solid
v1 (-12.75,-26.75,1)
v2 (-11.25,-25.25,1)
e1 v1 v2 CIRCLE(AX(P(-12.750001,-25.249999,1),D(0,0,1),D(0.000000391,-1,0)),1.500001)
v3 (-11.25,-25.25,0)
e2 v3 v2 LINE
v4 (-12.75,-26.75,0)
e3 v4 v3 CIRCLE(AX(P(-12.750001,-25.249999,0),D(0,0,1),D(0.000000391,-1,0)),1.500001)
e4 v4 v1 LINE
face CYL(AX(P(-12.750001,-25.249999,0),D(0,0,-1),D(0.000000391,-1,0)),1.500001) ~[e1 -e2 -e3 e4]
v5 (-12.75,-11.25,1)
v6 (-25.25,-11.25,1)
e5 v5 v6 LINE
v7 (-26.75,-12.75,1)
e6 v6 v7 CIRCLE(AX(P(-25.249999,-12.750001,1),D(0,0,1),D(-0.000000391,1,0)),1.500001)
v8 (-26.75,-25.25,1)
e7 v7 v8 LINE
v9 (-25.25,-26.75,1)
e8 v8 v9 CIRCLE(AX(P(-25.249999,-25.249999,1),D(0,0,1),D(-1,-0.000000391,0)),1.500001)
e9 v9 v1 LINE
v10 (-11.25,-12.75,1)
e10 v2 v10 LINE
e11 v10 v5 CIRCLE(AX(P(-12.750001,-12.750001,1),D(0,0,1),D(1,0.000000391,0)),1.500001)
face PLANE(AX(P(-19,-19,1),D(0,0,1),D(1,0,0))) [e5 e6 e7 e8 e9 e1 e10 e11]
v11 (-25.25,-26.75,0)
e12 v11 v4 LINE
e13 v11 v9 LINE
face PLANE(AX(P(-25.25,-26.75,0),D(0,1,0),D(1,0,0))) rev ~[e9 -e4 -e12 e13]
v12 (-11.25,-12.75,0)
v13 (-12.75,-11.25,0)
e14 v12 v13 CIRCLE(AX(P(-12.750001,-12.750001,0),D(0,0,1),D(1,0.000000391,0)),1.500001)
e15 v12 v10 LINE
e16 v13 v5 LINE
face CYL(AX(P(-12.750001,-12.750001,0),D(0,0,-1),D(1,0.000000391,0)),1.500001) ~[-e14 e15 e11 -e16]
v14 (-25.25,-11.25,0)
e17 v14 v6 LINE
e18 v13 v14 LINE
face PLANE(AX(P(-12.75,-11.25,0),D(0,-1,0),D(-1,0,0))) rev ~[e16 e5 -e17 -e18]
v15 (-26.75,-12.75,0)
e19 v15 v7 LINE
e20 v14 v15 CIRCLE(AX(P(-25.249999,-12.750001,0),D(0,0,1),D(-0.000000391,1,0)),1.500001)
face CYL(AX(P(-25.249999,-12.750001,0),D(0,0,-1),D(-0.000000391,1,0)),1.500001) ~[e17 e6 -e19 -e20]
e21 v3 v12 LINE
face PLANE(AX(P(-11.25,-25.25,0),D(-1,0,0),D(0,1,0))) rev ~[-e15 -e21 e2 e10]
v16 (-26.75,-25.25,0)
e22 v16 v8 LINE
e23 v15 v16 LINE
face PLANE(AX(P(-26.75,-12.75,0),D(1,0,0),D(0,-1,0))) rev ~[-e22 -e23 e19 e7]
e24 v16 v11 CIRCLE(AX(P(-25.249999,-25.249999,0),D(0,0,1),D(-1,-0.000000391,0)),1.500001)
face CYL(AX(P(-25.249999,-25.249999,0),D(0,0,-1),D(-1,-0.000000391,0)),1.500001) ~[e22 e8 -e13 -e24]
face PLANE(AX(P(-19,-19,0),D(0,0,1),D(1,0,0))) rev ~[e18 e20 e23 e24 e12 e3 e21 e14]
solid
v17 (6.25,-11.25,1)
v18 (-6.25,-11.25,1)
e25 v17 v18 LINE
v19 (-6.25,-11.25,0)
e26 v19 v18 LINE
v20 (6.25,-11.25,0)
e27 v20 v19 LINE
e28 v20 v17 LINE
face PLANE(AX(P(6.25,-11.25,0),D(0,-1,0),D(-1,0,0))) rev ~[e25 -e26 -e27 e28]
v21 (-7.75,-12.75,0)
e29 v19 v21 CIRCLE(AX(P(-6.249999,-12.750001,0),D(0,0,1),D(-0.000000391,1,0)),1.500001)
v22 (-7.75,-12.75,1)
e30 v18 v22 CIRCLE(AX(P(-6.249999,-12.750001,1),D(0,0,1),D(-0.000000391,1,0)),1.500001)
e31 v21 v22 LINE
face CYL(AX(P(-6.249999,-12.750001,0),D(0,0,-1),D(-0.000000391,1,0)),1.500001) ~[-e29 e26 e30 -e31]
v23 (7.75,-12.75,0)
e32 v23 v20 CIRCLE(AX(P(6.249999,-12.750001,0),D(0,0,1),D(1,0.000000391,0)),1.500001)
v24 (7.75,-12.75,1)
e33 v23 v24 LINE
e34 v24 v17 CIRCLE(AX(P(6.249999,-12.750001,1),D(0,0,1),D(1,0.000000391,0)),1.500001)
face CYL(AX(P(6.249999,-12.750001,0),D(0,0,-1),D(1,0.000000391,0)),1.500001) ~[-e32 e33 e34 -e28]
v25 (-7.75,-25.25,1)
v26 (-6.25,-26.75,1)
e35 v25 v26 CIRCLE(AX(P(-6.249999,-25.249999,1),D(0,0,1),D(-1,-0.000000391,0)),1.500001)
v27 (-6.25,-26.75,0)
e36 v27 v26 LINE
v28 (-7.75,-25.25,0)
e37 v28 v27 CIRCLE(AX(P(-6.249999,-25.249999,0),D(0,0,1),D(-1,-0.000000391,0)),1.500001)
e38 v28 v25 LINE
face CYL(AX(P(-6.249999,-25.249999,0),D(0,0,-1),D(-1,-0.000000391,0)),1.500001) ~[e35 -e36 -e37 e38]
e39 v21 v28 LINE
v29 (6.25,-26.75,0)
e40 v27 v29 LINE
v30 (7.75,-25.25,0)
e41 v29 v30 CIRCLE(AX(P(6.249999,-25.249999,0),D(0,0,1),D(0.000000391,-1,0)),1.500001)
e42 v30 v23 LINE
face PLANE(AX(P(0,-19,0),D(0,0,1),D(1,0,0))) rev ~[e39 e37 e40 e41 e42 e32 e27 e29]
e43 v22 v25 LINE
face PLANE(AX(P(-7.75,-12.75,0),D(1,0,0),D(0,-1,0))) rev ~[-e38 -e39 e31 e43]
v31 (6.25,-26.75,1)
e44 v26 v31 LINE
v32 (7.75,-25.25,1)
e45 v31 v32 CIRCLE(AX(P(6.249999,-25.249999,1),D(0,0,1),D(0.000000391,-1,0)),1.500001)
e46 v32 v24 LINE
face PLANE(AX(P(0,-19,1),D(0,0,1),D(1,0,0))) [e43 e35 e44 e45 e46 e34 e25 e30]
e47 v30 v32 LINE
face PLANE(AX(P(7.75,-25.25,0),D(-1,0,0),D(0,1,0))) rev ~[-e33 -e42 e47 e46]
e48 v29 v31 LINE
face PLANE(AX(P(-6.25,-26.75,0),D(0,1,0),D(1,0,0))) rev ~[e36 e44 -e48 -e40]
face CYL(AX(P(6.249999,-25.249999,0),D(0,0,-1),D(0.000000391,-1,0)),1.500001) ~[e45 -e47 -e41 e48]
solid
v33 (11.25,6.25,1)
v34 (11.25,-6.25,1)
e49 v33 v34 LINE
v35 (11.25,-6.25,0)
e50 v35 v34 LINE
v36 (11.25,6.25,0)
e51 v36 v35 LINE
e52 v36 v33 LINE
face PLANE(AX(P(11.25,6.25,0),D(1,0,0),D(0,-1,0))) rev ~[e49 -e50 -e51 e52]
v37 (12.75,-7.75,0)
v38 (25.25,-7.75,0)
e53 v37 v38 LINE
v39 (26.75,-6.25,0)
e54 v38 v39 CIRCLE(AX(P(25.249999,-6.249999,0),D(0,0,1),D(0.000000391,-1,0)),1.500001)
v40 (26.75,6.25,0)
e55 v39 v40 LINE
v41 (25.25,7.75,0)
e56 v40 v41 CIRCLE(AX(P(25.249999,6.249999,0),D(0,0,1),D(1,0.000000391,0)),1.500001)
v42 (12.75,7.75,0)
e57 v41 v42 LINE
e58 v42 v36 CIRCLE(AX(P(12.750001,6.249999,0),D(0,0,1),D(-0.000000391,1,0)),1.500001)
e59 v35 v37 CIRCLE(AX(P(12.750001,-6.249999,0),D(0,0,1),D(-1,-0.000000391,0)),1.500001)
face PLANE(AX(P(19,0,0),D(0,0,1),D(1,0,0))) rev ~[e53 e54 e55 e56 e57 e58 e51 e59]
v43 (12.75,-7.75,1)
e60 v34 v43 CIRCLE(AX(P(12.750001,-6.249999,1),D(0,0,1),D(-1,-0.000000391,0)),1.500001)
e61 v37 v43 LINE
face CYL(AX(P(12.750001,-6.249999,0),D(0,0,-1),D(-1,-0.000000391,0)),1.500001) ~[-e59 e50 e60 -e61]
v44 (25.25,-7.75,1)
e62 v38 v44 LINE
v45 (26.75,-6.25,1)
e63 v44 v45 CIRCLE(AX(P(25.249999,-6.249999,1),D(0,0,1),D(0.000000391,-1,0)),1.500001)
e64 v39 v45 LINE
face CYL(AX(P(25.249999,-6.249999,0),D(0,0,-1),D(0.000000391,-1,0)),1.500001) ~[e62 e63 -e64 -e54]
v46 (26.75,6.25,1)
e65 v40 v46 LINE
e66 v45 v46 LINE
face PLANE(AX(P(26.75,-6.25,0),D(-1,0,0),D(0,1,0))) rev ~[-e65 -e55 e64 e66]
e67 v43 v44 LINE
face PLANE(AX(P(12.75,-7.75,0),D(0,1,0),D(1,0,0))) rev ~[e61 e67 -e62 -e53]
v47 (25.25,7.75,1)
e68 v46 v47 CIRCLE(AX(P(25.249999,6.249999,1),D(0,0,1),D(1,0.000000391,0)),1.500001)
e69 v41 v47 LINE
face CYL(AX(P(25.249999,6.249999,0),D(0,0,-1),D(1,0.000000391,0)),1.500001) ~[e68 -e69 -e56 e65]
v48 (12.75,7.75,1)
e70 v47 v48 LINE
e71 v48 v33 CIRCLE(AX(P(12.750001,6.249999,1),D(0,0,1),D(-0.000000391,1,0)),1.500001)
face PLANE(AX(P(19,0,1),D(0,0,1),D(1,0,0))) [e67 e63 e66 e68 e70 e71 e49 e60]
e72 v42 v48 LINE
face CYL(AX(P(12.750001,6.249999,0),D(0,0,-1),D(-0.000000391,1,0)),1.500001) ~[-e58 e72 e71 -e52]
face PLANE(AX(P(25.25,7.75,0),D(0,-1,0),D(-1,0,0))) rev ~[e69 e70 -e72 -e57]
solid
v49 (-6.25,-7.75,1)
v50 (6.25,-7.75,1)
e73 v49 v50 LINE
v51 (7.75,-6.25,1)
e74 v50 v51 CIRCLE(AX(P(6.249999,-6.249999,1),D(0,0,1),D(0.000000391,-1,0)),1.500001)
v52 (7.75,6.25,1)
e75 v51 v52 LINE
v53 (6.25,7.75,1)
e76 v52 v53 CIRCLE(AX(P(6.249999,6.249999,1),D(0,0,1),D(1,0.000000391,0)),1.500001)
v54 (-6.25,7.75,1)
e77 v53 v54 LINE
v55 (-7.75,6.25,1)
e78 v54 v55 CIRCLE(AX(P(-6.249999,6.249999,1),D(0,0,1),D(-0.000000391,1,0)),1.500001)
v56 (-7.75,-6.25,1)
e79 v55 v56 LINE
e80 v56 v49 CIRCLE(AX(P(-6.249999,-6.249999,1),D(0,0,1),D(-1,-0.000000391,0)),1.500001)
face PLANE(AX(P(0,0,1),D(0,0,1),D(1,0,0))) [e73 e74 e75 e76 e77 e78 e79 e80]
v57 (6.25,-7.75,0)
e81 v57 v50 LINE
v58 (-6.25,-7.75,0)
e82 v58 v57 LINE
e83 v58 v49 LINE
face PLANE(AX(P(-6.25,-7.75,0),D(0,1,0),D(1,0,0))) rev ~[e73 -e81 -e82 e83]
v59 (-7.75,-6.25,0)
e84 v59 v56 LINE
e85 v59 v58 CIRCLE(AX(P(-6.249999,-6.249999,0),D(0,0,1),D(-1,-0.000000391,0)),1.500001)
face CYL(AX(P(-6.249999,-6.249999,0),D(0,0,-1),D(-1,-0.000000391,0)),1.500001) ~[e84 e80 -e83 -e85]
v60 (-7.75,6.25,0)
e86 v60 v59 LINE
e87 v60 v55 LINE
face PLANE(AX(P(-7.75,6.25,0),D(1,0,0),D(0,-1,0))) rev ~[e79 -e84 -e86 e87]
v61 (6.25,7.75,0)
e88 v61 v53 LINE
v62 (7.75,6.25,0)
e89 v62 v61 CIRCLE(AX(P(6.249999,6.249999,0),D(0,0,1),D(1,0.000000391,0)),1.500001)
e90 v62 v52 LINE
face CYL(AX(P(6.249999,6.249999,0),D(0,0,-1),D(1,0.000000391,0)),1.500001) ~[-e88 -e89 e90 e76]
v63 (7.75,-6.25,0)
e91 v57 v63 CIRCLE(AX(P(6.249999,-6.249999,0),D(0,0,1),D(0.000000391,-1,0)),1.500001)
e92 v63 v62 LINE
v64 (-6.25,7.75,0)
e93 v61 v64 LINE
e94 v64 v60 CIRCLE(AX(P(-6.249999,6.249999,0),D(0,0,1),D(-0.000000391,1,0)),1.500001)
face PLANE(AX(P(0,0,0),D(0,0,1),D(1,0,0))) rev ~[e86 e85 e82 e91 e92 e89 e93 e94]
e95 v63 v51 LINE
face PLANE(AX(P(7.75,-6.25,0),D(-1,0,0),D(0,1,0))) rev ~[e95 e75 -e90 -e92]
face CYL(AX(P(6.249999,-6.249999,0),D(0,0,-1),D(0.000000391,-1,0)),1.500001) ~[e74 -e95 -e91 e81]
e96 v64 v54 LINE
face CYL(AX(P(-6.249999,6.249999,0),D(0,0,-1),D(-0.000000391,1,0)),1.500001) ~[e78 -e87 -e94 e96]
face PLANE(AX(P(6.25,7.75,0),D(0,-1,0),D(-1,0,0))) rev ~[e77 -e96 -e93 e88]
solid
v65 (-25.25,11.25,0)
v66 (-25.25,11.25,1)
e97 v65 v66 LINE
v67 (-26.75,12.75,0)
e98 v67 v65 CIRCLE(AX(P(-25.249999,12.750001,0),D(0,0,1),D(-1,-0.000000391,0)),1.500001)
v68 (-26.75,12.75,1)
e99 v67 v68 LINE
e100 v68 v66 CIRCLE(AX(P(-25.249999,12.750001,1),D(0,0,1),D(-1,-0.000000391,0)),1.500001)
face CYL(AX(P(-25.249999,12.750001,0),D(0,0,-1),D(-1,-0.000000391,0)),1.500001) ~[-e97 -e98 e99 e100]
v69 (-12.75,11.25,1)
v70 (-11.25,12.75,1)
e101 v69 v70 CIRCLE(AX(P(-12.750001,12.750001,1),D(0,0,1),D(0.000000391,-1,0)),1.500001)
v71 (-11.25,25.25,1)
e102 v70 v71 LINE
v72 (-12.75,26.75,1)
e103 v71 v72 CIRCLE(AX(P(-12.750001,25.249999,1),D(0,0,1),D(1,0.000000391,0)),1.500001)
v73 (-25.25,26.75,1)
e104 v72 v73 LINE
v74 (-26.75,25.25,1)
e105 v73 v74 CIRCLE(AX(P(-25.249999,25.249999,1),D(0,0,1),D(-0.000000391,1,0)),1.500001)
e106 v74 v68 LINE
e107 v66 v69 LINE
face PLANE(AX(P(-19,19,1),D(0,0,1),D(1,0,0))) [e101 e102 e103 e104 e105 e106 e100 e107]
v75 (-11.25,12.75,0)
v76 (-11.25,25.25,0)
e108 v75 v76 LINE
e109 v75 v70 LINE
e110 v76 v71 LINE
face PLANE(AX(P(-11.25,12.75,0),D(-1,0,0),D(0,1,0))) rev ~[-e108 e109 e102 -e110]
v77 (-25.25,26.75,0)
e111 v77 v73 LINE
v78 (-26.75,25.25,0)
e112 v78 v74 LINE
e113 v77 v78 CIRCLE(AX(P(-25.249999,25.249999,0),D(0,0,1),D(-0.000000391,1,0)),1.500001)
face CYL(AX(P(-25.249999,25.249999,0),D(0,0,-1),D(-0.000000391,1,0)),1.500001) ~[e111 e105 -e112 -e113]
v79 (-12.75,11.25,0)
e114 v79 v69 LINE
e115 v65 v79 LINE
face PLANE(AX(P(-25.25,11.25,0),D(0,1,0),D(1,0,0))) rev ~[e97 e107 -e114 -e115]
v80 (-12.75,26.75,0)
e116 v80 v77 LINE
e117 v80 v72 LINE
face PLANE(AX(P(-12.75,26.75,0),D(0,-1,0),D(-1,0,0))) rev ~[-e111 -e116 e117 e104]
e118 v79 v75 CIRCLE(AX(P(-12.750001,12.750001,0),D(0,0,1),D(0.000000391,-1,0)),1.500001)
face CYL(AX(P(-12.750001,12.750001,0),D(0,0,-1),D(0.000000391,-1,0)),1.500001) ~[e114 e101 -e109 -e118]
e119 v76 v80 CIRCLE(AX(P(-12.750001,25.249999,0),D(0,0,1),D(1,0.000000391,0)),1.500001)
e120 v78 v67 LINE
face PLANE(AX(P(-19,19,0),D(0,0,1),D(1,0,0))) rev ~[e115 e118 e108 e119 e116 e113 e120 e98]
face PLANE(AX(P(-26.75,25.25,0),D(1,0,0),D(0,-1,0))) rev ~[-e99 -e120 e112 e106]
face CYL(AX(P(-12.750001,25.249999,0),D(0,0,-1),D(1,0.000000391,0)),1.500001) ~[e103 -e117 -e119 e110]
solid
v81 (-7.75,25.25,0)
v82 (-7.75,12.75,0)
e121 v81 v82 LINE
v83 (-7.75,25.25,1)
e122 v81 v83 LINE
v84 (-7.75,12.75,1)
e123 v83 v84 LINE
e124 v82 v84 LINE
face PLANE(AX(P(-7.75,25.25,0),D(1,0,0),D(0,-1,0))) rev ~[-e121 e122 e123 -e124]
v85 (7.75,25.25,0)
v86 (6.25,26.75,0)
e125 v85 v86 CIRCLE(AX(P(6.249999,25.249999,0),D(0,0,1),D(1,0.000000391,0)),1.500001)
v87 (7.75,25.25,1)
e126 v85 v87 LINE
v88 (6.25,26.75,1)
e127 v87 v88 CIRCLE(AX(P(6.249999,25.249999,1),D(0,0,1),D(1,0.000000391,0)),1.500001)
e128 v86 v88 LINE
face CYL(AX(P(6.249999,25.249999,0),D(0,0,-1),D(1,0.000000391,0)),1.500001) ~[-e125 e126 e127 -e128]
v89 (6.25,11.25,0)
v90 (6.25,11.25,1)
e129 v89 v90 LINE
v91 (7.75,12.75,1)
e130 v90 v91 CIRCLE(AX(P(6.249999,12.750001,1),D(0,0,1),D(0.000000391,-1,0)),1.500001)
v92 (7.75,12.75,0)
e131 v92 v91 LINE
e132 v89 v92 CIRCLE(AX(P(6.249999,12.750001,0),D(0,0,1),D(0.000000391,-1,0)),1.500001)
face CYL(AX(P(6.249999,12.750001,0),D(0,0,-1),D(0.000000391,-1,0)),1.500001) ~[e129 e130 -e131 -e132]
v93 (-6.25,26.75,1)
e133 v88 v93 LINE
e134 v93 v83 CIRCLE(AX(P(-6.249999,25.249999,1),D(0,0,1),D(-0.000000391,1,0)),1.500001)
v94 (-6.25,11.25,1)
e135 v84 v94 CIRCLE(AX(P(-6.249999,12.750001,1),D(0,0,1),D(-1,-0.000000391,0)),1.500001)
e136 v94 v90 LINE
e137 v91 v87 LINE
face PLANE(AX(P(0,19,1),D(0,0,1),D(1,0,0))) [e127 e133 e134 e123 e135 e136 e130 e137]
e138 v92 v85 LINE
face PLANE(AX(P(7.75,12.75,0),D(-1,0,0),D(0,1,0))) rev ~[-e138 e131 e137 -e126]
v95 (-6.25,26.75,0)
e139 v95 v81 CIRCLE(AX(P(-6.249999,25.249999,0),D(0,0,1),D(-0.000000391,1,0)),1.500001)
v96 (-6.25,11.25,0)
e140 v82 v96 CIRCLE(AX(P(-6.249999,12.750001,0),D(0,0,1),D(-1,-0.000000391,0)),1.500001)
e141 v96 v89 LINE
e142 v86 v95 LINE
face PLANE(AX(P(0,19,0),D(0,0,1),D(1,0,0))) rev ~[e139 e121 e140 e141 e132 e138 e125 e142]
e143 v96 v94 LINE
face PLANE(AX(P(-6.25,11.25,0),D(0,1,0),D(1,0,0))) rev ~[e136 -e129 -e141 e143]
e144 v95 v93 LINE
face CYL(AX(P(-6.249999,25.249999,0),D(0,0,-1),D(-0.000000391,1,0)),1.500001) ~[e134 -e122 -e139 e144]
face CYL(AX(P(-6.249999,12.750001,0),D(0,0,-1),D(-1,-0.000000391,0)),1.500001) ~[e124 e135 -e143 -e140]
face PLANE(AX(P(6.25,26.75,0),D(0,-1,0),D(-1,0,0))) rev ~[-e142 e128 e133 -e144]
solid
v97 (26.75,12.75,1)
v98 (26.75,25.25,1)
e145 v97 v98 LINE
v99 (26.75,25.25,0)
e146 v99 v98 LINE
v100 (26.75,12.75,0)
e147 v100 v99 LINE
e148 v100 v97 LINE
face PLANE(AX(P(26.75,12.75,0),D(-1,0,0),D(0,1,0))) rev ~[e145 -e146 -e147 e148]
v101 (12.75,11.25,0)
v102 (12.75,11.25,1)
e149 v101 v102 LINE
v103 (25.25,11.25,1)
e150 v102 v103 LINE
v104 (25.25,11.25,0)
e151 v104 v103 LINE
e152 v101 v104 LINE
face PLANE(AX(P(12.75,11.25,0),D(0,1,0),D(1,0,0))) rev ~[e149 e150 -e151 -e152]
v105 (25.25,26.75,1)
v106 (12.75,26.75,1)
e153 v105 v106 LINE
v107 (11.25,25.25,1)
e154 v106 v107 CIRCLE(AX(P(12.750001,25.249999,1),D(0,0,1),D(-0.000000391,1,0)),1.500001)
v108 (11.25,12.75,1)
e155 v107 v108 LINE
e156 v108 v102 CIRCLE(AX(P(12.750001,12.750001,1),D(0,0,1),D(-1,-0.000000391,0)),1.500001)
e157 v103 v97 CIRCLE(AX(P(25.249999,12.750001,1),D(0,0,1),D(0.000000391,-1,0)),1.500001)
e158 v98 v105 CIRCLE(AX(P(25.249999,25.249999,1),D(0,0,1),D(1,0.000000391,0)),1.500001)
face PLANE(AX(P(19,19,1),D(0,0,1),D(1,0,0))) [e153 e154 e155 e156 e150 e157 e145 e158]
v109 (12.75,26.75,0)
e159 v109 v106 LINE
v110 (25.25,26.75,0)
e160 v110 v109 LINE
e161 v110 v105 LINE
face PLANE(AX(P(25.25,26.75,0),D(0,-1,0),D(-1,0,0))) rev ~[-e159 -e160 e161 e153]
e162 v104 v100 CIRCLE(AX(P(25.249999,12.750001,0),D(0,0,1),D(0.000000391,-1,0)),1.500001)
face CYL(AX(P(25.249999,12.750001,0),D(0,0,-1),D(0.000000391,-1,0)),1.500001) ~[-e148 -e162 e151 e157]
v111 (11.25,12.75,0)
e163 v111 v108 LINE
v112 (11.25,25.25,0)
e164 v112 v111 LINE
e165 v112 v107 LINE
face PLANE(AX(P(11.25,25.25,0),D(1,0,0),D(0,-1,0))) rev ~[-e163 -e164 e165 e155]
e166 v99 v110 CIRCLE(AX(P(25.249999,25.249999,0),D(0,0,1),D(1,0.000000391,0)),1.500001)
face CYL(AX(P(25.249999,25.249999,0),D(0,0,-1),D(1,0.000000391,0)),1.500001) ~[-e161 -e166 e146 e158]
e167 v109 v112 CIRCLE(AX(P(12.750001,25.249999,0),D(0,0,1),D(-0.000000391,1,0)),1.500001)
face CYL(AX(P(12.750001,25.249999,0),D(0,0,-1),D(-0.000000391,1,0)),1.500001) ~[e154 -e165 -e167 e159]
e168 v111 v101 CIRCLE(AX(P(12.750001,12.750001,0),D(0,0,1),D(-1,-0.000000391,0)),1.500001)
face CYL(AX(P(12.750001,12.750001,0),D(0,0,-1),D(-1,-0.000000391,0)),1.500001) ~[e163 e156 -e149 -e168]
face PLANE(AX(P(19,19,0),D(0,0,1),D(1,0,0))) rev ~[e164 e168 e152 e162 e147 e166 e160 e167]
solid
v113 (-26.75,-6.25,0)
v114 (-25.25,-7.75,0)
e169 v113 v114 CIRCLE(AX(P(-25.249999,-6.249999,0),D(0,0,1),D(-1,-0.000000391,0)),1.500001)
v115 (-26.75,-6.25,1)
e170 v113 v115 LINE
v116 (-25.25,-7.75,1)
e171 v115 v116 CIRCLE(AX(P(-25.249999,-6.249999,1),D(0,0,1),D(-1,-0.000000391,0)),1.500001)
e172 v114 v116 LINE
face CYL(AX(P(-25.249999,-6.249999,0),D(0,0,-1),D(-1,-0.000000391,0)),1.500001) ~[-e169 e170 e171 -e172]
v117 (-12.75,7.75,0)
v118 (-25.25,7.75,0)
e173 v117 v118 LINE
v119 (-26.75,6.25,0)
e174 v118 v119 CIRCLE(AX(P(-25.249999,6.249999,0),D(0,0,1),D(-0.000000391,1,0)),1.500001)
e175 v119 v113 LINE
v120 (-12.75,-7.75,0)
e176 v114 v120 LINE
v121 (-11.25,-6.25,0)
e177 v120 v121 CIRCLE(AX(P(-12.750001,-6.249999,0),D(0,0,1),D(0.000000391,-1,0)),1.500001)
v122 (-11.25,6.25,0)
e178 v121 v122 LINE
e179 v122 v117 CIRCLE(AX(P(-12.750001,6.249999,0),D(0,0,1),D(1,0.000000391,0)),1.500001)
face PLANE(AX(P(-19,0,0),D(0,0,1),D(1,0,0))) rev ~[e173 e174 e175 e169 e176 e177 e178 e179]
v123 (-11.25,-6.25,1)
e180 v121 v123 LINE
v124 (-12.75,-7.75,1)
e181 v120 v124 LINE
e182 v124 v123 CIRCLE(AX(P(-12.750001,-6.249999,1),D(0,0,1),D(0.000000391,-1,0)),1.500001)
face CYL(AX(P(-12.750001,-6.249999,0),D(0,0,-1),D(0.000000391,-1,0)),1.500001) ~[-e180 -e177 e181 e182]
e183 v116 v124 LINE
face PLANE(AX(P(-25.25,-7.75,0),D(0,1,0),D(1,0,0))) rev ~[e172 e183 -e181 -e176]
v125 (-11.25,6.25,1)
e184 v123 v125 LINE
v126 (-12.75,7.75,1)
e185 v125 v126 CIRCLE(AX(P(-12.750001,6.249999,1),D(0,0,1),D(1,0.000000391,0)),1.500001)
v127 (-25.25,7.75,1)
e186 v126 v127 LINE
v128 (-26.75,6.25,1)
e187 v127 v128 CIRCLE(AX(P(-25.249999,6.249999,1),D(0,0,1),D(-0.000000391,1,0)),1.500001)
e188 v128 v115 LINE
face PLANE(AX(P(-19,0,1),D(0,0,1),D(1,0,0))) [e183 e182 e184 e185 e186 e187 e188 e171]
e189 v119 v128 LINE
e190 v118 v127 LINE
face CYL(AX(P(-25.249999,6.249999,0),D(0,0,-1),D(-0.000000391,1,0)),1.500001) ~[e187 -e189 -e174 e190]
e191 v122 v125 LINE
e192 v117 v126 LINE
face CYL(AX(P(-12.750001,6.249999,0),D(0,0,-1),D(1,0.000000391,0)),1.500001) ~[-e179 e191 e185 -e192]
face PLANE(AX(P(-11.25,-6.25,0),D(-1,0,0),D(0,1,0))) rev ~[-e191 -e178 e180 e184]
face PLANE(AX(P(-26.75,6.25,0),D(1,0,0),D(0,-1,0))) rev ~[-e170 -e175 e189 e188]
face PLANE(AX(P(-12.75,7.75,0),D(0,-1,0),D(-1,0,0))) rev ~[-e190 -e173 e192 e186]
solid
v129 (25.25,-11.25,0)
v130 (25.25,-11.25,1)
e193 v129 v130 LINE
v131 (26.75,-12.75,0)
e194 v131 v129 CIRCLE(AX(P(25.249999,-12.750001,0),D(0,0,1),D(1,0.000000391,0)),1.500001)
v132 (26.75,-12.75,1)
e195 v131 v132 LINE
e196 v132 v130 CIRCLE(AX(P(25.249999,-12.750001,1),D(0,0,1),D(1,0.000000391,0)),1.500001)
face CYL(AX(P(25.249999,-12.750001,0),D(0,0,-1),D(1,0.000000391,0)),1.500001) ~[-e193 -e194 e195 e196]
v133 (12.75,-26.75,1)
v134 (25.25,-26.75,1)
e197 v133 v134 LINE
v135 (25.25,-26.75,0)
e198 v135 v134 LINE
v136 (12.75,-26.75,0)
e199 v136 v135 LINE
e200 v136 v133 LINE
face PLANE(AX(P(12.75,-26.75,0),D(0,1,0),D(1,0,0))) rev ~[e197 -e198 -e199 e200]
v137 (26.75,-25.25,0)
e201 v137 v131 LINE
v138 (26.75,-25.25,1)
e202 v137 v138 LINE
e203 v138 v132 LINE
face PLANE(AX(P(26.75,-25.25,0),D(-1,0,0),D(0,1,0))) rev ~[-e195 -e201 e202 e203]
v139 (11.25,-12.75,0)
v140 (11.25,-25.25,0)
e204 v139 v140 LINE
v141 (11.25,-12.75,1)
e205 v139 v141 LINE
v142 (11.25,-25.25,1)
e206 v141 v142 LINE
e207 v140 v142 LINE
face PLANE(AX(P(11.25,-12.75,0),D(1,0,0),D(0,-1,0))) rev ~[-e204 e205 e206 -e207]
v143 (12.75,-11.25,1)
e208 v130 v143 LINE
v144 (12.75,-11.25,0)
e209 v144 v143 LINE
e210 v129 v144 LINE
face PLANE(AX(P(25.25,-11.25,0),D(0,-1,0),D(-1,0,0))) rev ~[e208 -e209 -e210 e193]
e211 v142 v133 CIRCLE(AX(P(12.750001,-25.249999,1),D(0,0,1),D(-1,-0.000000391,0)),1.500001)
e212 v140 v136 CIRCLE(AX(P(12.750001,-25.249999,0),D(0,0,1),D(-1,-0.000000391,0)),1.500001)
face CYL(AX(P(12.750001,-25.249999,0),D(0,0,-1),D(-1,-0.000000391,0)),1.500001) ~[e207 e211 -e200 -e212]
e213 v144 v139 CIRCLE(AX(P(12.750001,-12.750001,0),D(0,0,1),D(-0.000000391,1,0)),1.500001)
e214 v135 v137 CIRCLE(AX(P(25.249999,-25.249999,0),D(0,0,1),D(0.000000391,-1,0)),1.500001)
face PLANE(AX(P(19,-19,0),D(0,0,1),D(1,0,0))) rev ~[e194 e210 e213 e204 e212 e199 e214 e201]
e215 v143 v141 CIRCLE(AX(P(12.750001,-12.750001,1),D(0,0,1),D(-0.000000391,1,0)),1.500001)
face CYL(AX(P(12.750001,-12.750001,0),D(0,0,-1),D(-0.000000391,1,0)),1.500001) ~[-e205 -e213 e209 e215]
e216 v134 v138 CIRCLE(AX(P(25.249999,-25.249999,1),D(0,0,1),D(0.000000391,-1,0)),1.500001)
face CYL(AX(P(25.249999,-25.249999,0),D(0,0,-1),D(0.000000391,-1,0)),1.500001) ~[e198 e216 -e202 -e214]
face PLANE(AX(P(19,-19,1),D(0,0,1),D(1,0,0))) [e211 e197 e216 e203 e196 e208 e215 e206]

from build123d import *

# Parameters (mm, degrees)
F1_DEPTH = 1


with BuildPart() as f1:
    # F0 (on Top) → F1 (new body)
    with BuildSketch(Plane.XY):
        with BuildLine():
            Line((-12.75, -11.25), (-25.25, -11.25))
            ThreePointArc((-25.25, -11.25), (-26.31066, -11.68934), (-26.75, -12.75))
            Line((-26.75, -12.75), (-26.75, -25.25))
            ThreePointArc((-26.75, -25.25), (-26.31066, -26.31066), (-25.25, -26.75))
            Line((-25.25, -26.75), (-12.75, -26.75))
            ThreePointArc((-12.75, -26.75), (-11.68934, -26.31066), (-11.25, -25.25))
            Line((-11.25, -25.25), (-11.25, -12.75))
            ThreePointArc((-11.25, -12.75), (-11.68934, -11.68934), (-12.75, -11.25))
        make_face()
        with BuildLine():
            Line((6.25, -11.25), (-6.25, -11.25))
            ThreePointArc((-6.25, -11.25), (-7.31066, -11.68934), (-7.75, -12.75))
            Line((-7.75, -12.75), (-7.75, -25.25))
            ThreePointArc((-7.75, -25.25), (-7.31066, -26.31066), (-6.25, -26.75))
            Line((-6.25, -26.75), (6.25, -26.75))
            ThreePointArc((6.25, -26.75), (7.31066, -26.31066), (7.75, -25.25))
            Line((7.75, -25.25), (7.75, -12.75))
            ThreePointArc((7.75, -12.75), (7.31066, -11.68934), (6.25, -11.25))
        make_face()
        with BuildLine():
            Line((6.25, 7.75), (-6.25, 7.75))
            ThreePointArc((-6.25, 7.75), (-7.31066, 7.31066), (-7.75, 6.25))
            Line((-7.75, 6.25), (-7.75, -6.25))
            ThreePointArc((-7.75, -6.25), (-7.31066, -7.31066), (-6.25, -7.75))
            Line((-6.25, -7.75), (6.25, -7.75))
            ThreePointArc((6.25, -7.75), (7.31066, -7.31066), (7.75, -6.25))
            Line((7.75, -6.25), (7.75, 6.25))
            ThreePointArc((7.75, 6.25), (7.31066, 7.31066), (6.25, 7.75))
        make_face()
        with BuildLine():
            ThreePointArc((25.25, -26.75), (26.31066, -26.31066), (26.75, -25.25))
            Line((26.75, -25.25), (26.75, -12.75))
            ThreePointArc((26.75, -12.75), (26.31066, -11.68934), (25.25, -11.25))
            Line((25.25, -11.25), (12.75, -11.25))
            ThreePointArc((12.75, -11.25), (11.68934, -11.68934), (11.25, -12.75))
            Line((11.25, -12.75), (11.25, -25.25))
            ThreePointArc((11.25, -25.25), (11.68934, -26.31066), (12.75, -26.75))
            Line((12.75, -26.75), (25.25, -26.75))
        make_face()
        with BuildLine():
            Line((25.25, 7.75), (12.75, 7.75))
            ThreePointArc((12.75, 7.75), (11.68934, 7.31066), (11.25, 6.25))
            Line((11.25, 6.25), (11.25, -6.25))
            ThreePointArc((11.25, -6.25), (11.68934, -7.31066), (12.75, -7.75))
            Line((12.75, -7.75), (25.25, -7.75))
            ThreePointArc((25.25, -7.75), (26.31066, -7.31066), (26.75, -6.25))
            Line((26.75, -6.25), (26.75, 6.25))
            ThreePointArc((26.75, 6.25), (26.31066, 7.31066), (25.25, 7.75))
        make_face()
        with BuildLine():
            ThreePointArc((26.75, 25.25), (26.31066, 26.31066), (25.25, 26.75))
            Line((25.25, 26.75), (12.75, 26.75))
            ThreePointArc((12.75, 26.75), (11.68934, 26.31066), (11.25, 25.25))
            Line((11.25, 25.25), (11.25, 12.75))
            ThreePointArc((11.25, 12.75), (11.68934, 11.68934), (12.75, 11.25))
            Line((12.75, 11.25), (25.25, 11.25))
            ThreePointArc((25.25, 11.25), (26.31066, 11.68934), (26.75, 12.75))
            Line((26.75, 12.75), (26.75, 25.25))
        make_face()
        with BuildLine():
            Line((-7.75, 25.25), (-7.75, 12.75))
            ThreePointArc((-7.75, 12.75), (-7.31066, 11.68934), (-6.25, 11.25))
            Line((-6.25, 11.25), (6.25, 11.25))
            ThreePointArc((6.25, 11.25), (7.31066, 11.68934), (7.75, 12.75))
            Line((7.75, 12.75), (7.75, 25.25))
            ThreePointArc((7.75, 25.25), (7.31066, 26.31066), (6.25, 26.75))
            Line((6.25, 26.75), (-6.25, 26.75))
            ThreePointArc((-6.25, 26.75), (-7.31066, 26.31066), (-7.75, 25.25))
        make_face()
        with BuildLine():
            ThreePointArc((-25.25, 26.75), (-26.31066, 26.31066), (-26.75, 25.25))
            Line((-26.75, 25.25), (-26.75, 12.75))
            ThreePointArc((-26.75, 12.75), (-26.31066, 11.68934), (-25.25, 11.25))
            Line((-25.25, 11.25), (-12.75, 11.25))
            ThreePointArc((-12.75, 11.25), (-11.68934, 11.68934), (-11.25, 12.75))
            Line((-11.25, 12.75), (-11.25, 25.25))
            ThreePointArc((-11.25, 25.25), (-11.68934, 26.31066), (-12.75, 26.75))
            Line((-12.75, 26.75), (-25.25, 26.75))
        make_face()
        with BuildLine():
            Line((-25.25, -7.75), (-12.75, -7.75))
            ThreePointArc((-12.75, -7.75), (-11.68934, -7.31066), (-11.25, -6.25))
            Line((-11.25, -6.25), (-11.25, 6.25))
            ThreePointArc((-11.25, 6.25), (-11.68934, 7.31066), (-12.75, 7.75))
            Line((-12.75, 7.75), (-25.25, 7.75))
            ThreePointArc((-25.25, 7.75), (-26.31066, 7.31066), (-26.75, 6.25))
            Line((-26.75, 6.25), (-26.75, -6.25))
            ThreePointArc((-26.75, -6.25), (-26.31066, -7.31066), (-25.25, -7.75))
        make_face()
    extrude(amount=F1_DEPTH)


solid = f1.part
